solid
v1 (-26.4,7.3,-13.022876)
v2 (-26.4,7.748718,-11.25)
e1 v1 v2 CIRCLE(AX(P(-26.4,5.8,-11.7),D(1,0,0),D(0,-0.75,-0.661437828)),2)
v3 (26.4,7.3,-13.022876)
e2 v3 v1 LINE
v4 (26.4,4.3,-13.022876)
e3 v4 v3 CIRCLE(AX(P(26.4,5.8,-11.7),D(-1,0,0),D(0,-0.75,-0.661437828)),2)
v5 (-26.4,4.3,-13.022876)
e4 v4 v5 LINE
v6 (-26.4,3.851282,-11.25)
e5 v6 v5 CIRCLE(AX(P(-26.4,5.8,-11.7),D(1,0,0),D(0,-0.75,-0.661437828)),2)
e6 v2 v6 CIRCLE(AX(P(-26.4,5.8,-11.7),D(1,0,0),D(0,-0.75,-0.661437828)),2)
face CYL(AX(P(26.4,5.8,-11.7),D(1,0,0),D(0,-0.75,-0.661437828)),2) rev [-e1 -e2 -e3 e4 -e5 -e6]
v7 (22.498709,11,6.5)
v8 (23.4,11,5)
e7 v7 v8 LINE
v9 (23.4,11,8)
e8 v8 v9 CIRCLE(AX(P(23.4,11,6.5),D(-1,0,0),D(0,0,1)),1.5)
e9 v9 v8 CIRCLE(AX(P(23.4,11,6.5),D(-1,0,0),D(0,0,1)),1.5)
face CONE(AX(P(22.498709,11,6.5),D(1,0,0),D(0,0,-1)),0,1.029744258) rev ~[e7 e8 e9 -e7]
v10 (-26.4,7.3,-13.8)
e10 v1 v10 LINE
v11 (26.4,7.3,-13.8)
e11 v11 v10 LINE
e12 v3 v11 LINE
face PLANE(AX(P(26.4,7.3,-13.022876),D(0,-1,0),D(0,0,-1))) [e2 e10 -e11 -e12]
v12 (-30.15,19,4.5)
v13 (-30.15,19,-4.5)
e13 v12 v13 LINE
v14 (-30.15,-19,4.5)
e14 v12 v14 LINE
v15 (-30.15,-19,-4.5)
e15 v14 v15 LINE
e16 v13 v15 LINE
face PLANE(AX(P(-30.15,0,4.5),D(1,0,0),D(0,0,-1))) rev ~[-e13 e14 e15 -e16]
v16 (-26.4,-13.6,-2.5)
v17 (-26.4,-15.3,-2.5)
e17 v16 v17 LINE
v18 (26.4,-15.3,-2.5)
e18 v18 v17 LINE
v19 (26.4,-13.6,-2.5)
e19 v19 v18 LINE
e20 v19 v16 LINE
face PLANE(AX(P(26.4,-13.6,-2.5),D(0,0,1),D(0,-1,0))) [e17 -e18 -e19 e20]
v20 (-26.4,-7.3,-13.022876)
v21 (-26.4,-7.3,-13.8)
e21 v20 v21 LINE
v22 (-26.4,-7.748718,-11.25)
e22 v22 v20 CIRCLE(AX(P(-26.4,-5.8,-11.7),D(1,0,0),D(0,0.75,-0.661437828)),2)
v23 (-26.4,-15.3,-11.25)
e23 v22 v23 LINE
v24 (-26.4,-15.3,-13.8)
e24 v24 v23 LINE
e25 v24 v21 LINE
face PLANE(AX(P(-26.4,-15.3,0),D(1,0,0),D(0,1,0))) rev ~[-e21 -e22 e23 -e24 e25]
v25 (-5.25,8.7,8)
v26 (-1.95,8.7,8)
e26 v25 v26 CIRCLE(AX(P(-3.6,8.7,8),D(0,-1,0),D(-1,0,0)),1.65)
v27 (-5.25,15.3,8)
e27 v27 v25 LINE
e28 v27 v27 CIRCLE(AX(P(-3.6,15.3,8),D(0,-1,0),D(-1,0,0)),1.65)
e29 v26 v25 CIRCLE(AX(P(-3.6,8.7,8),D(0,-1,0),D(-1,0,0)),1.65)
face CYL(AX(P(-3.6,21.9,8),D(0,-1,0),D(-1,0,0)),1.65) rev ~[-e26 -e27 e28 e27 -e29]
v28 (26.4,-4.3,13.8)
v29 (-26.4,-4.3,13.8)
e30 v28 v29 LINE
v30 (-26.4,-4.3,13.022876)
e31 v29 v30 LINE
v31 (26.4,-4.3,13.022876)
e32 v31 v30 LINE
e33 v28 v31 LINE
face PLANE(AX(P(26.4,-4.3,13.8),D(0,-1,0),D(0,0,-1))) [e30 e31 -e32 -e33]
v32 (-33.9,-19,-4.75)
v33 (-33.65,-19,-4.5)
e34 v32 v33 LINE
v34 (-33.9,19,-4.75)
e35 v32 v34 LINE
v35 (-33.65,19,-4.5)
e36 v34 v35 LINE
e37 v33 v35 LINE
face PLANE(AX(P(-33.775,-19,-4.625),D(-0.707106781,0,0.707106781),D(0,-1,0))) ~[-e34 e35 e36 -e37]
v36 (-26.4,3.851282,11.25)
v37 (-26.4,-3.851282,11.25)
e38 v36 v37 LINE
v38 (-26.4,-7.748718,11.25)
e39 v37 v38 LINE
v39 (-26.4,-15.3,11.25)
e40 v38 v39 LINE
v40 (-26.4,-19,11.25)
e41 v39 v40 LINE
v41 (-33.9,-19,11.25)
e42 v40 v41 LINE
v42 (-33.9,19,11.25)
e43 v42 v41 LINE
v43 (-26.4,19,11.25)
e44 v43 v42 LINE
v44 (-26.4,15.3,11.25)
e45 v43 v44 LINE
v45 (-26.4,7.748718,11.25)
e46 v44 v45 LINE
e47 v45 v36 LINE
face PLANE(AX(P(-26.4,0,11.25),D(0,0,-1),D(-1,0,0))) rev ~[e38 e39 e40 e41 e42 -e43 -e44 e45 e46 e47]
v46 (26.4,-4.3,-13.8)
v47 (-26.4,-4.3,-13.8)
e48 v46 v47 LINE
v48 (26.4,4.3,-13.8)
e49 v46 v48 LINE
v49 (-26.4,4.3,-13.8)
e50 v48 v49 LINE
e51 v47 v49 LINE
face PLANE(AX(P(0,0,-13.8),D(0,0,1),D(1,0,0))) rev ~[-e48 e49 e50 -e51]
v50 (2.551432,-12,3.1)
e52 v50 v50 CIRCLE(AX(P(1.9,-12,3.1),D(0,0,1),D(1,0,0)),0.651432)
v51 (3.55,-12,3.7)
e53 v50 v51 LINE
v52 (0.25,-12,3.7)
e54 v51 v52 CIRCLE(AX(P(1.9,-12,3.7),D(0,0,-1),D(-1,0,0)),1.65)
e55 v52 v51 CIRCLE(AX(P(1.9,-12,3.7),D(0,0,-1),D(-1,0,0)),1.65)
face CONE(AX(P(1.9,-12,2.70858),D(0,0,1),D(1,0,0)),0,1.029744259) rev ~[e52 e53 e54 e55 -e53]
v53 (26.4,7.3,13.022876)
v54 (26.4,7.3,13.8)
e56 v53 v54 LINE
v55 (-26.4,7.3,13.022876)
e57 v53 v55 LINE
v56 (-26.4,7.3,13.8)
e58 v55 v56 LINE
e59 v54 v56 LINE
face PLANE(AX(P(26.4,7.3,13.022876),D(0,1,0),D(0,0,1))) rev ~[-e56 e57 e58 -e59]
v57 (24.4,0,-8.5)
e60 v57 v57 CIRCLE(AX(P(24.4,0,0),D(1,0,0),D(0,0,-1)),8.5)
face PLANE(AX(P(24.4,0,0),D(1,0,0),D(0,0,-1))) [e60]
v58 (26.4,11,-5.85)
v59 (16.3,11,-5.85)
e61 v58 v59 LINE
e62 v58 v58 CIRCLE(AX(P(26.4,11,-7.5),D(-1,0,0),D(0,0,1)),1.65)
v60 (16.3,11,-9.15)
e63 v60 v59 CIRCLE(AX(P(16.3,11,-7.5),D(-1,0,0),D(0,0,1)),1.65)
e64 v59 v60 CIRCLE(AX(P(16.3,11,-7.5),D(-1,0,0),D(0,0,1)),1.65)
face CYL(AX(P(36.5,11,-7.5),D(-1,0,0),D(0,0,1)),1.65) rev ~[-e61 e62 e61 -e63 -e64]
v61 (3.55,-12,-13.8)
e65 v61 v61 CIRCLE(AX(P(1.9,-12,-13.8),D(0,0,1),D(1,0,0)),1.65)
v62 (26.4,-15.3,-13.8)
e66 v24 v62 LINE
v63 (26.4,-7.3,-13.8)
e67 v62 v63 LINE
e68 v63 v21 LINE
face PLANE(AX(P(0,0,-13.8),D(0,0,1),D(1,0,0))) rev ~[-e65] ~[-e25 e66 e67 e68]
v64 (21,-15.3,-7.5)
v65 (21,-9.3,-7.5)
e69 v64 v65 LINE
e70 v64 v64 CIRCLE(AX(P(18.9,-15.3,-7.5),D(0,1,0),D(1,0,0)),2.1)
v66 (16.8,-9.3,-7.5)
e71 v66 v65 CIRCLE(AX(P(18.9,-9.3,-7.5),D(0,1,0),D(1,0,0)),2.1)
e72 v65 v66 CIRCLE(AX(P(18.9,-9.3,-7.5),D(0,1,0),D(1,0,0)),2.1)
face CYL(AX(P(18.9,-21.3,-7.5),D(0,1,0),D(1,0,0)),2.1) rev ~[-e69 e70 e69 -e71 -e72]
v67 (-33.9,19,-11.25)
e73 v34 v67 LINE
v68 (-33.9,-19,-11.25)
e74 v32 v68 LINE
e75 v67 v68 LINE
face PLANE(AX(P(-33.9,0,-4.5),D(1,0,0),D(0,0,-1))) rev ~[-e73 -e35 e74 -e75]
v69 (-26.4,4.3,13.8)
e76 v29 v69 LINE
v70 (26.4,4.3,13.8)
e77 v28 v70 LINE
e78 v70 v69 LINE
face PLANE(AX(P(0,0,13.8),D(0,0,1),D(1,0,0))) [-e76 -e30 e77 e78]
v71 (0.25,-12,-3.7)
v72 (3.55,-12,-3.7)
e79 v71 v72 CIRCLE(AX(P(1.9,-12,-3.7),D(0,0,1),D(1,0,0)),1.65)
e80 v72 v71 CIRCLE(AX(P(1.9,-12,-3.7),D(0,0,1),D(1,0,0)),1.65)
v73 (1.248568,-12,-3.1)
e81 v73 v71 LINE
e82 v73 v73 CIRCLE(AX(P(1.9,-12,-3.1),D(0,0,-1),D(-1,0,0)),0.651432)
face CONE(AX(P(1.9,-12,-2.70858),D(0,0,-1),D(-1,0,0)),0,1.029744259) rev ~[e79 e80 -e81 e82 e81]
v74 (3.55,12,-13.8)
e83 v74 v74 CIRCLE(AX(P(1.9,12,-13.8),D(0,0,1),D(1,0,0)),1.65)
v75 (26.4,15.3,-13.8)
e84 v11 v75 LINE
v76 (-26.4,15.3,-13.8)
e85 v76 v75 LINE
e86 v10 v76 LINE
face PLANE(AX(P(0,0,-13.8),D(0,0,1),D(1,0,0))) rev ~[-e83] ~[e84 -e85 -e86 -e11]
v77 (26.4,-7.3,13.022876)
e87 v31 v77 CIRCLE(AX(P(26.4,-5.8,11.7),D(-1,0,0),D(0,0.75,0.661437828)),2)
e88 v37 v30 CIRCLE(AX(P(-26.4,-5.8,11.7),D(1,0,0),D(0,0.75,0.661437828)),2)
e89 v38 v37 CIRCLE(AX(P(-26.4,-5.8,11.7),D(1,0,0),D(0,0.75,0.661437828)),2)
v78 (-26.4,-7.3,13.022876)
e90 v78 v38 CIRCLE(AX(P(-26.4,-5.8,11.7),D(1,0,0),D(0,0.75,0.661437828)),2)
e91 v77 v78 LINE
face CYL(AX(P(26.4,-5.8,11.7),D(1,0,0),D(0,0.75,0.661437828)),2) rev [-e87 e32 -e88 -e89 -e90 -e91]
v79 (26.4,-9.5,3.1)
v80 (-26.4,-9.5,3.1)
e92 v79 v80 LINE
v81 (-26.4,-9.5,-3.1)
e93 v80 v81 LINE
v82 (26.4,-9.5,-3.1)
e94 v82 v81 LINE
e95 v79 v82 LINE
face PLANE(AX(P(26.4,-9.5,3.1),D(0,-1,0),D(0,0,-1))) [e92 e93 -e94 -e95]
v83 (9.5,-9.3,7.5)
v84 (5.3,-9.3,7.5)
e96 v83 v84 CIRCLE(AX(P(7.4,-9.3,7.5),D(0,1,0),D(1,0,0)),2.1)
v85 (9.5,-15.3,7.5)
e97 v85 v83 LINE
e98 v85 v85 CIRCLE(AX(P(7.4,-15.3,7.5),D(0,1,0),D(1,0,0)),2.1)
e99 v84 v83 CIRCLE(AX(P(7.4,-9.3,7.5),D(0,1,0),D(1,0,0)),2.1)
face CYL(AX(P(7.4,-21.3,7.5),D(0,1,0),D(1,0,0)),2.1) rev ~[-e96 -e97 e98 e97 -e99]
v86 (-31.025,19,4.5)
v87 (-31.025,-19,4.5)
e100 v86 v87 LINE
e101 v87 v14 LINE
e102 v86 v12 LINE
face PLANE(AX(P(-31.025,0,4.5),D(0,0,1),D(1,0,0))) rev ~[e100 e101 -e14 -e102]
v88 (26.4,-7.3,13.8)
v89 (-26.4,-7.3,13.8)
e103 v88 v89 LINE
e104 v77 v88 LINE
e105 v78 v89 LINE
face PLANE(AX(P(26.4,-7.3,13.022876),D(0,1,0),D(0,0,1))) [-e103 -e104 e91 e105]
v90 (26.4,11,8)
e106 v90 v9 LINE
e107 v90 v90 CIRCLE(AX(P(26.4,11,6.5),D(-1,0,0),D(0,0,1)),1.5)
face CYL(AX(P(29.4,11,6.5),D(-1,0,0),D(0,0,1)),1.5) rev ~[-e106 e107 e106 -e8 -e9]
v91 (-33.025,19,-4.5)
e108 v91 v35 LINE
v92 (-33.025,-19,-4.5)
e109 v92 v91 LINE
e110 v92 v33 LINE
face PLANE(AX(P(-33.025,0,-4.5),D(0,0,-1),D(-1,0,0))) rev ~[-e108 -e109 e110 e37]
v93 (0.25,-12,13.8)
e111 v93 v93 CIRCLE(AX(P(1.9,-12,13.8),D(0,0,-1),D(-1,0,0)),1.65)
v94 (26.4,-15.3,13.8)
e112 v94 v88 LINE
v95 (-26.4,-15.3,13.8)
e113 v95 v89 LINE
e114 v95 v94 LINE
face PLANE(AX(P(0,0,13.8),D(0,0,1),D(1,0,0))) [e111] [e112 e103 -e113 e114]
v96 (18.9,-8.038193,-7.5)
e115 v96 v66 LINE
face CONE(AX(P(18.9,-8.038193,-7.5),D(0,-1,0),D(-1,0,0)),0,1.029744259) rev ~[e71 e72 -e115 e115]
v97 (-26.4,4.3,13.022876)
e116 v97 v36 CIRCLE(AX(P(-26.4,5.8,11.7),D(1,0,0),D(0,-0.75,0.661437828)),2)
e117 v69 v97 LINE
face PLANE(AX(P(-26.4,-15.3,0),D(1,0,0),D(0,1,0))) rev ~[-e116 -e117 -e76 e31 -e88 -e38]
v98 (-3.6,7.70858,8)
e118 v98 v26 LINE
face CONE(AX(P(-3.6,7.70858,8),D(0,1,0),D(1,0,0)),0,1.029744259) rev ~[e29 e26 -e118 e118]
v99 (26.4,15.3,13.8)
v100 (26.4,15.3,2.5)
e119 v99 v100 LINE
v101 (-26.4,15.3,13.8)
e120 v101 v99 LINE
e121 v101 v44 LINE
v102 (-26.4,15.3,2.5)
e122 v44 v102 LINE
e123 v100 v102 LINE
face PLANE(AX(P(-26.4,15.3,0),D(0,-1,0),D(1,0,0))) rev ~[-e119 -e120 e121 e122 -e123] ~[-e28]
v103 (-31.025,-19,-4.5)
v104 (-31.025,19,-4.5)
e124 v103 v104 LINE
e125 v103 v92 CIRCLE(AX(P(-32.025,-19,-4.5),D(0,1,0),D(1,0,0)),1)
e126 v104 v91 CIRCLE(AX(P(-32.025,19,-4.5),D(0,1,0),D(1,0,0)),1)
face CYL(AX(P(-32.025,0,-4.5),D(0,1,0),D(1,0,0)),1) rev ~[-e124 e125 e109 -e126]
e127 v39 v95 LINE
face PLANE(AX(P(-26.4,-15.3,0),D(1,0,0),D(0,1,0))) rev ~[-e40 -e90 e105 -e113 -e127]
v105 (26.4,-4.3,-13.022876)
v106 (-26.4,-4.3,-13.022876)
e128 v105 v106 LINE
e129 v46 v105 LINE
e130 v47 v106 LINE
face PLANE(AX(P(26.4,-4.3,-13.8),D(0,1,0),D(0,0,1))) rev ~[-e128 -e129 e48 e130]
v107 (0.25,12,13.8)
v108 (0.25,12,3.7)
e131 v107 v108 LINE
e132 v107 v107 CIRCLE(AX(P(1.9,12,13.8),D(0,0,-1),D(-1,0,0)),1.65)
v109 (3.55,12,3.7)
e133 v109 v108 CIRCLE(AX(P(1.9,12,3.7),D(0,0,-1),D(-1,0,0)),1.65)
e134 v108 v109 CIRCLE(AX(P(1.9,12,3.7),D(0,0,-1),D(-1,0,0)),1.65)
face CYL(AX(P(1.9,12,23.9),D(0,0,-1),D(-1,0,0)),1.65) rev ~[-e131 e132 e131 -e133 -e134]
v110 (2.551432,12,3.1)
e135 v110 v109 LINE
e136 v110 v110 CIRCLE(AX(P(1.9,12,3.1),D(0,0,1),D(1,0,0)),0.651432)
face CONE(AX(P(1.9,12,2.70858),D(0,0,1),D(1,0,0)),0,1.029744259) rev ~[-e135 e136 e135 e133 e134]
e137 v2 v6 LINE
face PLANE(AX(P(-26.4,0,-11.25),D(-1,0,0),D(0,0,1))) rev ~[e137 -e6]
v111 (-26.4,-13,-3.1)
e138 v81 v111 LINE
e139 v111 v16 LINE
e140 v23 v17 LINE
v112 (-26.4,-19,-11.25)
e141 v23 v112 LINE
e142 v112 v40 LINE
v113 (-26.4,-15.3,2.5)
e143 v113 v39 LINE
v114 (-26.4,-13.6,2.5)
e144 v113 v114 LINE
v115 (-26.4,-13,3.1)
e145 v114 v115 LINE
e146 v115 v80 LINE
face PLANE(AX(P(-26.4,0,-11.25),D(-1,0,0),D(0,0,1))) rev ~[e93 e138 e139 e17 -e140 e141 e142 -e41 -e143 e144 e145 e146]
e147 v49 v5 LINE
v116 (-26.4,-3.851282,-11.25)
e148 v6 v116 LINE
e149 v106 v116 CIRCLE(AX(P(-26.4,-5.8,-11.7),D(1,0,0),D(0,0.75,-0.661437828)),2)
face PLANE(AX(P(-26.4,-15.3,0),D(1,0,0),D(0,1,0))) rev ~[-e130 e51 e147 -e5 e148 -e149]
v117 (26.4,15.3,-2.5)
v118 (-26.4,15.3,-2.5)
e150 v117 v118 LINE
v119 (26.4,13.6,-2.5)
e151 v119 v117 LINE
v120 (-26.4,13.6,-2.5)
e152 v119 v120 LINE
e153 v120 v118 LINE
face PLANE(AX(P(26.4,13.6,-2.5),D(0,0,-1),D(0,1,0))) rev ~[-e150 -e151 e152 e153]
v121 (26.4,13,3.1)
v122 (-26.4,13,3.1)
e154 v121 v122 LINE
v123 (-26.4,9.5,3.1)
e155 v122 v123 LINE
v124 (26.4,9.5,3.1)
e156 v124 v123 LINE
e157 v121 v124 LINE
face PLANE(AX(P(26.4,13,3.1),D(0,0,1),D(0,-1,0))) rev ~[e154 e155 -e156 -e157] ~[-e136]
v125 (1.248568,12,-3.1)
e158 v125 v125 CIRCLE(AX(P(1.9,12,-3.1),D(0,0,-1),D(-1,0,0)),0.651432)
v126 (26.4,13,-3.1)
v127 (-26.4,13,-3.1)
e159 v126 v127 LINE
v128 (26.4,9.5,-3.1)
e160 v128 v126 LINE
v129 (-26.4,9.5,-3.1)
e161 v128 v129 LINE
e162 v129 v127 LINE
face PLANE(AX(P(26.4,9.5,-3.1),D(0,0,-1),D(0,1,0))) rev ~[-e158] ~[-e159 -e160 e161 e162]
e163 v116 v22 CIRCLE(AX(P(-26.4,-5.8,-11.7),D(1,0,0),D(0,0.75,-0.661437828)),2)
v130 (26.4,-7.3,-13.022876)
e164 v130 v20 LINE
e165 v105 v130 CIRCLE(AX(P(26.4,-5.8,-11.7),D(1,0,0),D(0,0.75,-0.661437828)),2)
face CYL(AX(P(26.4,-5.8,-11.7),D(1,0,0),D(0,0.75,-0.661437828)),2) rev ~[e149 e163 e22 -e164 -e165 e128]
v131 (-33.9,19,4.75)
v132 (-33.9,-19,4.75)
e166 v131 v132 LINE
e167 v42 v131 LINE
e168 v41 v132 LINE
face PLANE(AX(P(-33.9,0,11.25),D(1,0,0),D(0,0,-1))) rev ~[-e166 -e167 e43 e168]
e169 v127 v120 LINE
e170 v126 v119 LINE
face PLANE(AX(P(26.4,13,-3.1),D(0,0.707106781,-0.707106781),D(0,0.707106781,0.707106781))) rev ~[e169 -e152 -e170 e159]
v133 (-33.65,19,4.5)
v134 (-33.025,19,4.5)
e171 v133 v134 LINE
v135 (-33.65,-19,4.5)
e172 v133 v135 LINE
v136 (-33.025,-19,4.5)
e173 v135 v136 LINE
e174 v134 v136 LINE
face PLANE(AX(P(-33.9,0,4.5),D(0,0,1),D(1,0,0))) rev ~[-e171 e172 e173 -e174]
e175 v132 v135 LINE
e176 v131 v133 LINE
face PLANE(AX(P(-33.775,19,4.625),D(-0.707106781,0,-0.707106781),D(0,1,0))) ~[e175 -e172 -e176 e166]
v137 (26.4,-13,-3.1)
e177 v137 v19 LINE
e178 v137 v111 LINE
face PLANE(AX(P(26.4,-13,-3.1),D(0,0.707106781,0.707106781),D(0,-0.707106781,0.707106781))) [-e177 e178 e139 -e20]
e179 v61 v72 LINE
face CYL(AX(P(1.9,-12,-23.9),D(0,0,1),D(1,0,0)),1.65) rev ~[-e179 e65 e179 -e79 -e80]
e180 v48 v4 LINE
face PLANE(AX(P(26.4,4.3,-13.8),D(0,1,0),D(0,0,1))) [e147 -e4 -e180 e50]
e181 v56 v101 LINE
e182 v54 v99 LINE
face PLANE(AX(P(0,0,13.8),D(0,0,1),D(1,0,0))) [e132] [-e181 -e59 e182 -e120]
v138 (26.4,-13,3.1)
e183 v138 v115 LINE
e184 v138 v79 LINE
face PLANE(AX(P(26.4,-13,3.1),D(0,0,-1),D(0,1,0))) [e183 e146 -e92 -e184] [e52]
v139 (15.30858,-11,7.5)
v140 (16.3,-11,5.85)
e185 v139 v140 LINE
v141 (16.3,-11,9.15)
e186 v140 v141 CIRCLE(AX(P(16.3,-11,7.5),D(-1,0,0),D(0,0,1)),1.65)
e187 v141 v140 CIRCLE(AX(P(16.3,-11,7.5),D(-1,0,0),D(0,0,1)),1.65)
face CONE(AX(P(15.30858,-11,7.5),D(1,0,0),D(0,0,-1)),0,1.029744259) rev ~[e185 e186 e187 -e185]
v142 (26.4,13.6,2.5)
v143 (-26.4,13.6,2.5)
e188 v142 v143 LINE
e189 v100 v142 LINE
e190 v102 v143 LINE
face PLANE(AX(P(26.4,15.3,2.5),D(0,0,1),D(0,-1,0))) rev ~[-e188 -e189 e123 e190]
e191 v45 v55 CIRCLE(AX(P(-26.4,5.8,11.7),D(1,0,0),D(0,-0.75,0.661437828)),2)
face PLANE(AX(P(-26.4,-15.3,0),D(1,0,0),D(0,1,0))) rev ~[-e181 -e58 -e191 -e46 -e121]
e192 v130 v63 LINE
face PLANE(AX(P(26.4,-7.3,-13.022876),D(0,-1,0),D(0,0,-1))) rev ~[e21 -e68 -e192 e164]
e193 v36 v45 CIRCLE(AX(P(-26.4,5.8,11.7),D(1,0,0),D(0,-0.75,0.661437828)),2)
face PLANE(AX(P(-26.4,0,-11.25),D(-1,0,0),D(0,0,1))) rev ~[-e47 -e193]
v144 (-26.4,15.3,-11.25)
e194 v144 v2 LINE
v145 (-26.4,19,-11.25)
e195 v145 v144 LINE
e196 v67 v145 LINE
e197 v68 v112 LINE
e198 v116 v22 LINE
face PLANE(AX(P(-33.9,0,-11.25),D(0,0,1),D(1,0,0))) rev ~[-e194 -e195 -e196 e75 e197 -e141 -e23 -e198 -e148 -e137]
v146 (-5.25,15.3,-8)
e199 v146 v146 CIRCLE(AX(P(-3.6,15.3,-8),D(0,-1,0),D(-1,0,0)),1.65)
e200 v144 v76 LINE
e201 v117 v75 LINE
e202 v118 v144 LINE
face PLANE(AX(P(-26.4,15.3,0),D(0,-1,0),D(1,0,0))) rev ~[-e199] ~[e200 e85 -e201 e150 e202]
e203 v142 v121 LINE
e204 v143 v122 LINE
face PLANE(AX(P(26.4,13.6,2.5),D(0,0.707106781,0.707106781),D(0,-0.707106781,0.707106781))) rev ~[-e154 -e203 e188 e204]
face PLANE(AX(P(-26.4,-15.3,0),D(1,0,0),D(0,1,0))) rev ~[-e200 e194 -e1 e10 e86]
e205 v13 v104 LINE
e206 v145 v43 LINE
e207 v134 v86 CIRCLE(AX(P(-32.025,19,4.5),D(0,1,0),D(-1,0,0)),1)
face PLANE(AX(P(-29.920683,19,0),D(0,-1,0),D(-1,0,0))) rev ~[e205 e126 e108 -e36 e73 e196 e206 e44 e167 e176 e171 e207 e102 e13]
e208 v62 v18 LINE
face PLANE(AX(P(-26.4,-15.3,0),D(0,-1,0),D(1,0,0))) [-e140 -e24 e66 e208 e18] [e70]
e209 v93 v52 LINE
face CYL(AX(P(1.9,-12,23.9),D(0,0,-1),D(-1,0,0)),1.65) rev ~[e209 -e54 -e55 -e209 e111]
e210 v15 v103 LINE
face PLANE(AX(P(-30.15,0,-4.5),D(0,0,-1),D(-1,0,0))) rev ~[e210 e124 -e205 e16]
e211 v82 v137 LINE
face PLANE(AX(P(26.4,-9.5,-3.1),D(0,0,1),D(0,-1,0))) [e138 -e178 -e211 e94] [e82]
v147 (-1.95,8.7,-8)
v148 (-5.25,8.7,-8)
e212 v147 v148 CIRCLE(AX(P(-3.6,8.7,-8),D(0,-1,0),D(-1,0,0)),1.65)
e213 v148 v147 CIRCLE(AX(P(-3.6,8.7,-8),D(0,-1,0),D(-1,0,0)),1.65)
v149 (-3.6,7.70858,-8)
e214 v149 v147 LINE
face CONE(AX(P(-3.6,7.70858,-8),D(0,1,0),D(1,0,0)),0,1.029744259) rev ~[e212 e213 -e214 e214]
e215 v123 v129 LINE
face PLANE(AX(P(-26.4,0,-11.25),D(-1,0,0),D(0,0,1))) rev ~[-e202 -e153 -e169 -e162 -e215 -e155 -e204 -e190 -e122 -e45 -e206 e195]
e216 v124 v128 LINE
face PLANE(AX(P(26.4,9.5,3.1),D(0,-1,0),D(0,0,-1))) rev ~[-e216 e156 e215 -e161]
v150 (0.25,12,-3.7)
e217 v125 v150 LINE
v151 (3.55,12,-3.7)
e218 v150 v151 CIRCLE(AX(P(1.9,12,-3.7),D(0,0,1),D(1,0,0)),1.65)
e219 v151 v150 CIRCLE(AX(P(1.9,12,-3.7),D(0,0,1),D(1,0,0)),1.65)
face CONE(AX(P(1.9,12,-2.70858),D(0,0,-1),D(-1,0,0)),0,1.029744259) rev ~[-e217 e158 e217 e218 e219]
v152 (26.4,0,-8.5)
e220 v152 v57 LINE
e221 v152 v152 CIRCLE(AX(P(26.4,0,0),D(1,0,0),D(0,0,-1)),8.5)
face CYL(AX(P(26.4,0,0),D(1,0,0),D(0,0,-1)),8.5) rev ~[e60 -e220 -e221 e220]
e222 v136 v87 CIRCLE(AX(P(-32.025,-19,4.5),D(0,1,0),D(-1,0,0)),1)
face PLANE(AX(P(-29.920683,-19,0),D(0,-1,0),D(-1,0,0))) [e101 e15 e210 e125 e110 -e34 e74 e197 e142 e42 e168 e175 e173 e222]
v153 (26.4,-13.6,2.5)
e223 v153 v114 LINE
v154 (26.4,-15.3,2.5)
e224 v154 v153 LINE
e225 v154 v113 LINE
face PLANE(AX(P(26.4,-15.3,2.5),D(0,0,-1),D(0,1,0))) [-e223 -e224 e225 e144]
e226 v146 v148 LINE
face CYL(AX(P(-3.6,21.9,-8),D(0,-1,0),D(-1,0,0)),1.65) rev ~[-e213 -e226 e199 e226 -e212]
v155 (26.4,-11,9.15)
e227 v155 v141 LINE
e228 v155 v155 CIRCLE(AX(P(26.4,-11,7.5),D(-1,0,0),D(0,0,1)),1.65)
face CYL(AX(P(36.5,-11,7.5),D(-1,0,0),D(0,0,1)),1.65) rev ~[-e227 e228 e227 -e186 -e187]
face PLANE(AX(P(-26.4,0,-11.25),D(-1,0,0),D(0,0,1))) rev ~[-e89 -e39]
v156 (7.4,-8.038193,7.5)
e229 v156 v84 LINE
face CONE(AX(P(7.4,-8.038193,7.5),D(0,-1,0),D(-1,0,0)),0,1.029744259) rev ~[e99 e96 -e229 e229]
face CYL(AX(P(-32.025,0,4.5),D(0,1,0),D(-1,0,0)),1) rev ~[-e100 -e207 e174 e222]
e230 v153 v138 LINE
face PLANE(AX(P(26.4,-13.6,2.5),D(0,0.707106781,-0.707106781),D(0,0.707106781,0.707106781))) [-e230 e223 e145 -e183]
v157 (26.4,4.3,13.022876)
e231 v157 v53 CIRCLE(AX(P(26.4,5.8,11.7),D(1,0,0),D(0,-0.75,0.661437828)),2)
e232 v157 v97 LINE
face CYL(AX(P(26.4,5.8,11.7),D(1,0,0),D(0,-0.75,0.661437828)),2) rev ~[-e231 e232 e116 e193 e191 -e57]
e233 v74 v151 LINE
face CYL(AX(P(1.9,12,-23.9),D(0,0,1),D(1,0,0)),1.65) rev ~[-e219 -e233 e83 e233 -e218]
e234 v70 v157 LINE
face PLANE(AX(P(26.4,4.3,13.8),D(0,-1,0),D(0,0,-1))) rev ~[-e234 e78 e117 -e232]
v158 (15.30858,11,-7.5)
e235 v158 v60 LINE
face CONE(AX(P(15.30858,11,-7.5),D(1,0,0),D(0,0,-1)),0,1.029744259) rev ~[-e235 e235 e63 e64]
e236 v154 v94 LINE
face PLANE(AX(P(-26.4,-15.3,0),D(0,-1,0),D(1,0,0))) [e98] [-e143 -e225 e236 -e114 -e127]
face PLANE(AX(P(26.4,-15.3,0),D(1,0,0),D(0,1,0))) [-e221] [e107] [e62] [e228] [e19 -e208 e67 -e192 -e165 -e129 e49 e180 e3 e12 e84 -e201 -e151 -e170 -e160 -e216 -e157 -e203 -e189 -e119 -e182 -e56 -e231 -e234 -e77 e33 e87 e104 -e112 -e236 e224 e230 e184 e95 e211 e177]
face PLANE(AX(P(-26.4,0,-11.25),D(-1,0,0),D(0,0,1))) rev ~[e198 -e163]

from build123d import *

# Parameters (mm, degrees)
SKETCH1_W                    = 52.8
SKETCH1_H                    = 30.6
EXT_BODY_DEPTH               = 13.8
AUTO_SWITCH_MOUNTING_DEPTH   = 57.677773421
SKETCH3_R                    = 8.5
CYL_BORE_DEPTH               = 2
M4X0_7_TAPPED_HOLE1_D        = 3.3
M4X0_7_TAPPED_HOLE1_DEPTH    = 10.1
M4X0_7_TAPPED_HOLE1_TIP      = 0.991420021
F_3_0_3_DIAMETER_HOLE1_D     = 3
F_3_0_3_DIAMETER_HOLE1_DEPTH = 3
F_3_0_3_DIAMETER_HOLE1_TIP   = 0.901290929
M4X0_7_TAPPED_HOLE2_D        = 3.3
M4X0_7_TAPPED_HOLE2_DEPTH    = 10.1
M4X0_7_TAPPED_HOLE2_TIP      = 0.991420021
M4X0_7_TAPPED_HOLE3_D        = 3.3
M4X0_7_TAPPED_HOLE3_DEPTH    = 10.1
M4X0_7_TAPPED_HOLE3_TIP      = 0.991420021
M4X0_7_TAPPED_HOLE4_D        = 3.3
M4X0_7_TAPPED_HOLE4_DEPTH    = 6.6
M4X0_7_TAPPED_HOLE4_TIP      = 0.991420021
M5X0_8_TAPPED_HOLE1_D        = 4.2
M5X0_8_TAPPED_HOLE1_DEPTH    = 6
M5X0_8_TAPPED_HOLE1_TIP      = 1.2618073
BOSS_EXTRUDE2_DEPTH          = 19
CHAMFER1_SIZE                = 0.25


with BuildPart() as part:
    # Sketch1 → EXT BODY (new, symmetric)
    with BuildSketch(Plane.XY):
        Rectangle(SKETCH1_W, SKETCH1_H)
    extrude(amount=EXT_BODY_DEPTH, both=True)

    # Sketch2 → AUTO SWITCH MOUNTING (cut, through all)
    with BuildSketch(Plane(origin=(26.4, 0, 0), x_dir=(0, 0, -1), z_dir=(1, 0, 0))):
        Polygon((2.5, 15.3), (-2.5, 15.3), (-2.5, 13.6), (-3.1, 13), (-3.1, 9.5), (3.1, 9.5), (3.1, 13), (2.5, 13.6), align=None)
        with BuildLine():
            Line((-13.022875656, 7.3), (-13.8, 7.3))
            Line((-13.8, 7.3), (-13.8, 4.3))
            Line((-13.8, 4.3), (-13.022875656, 4.3))
            ThreePointArc((-13.022875656, 4.3), (-9.7, 5.8), (-13.022875656, 7.3))
        make_face()
        with BuildLine():
            Line((-13.8, -7.3), (-13.8, -4.3))
            Line((-13.8, -4.3), (-13.022875656, -4.3))
            ThreePointArc((-13.022875656, -4.3), (-9.7, -5.8), (-13.022875656, -7.3))
            Line((-13.022875656, -7.3), (-13.8, -7.3))
        make_face()
        Polygon((-3.1, -9.5), (3.1, -9.5), (3.1, -13), (2.5, -13.6), (2.5, -15.3), (-2.5, -15.3), (-2.5, -13.6), (-3.1, -13), align=None)
        with BuildLine():
            Line((13.022875656, -7.3), (13.8, -7.3))
            Line((13.8, -7.3), (13.8, -4.3))
            Line((13.8, -4.3), (13.022875656, -4.3))
            ThreePointArc((13.022875656, -4.3), (9.7, -5.8), (13.022875656, -7.3))
        make_face()
        with BuildLine():
            Line((13.8, 7.3), (13.8, 4.3))
            Line((13.8, 4.3), (13.022875656, 4.3))
            ThreePointArc((13.022875656, 4.3), (9.7, 5.8), (13.022875656, 7.3))
            Line((13.022875656, 7.3), (13.8, 7.3))
        make_face()
    extrude(amount=-AUTO_SWITCH_MOUNTING_DEPTH, mode=Mode.SUBTRACT)

    # Sketch3 → CYL BORE (cut)
    with BuildSketch(Plane(origin=(26.4, 0, 0), x_dir=(0, 0, -1), z_dir=(1, 0, 0))):
        Circle(SKETCH3_R)
    extrude(amount=-CYL_BORE_DEPTH, mode=Mode.SUBTRACT)

    # M4x0.7 Tapped Hole1
    with Locations(Plane(origin=(26.4, 0, 0), x_dir=(0, 0, -1), z_dir=(1, 0, 0))):
        with Locations((-7.5, -11), (7.5, 11)):
            Hole(M4X0_7_TAPPED_HOLE1_D / 2, depth=M4X0_7_TAPPED_HOLE1_DEPTH)
            with Locations((0, 0, -(M4X0_7_TAPPED_HOLE1_DEPTH + M4X0_7_TAPPED_HOLE1_TIP / 2))):  # 118° drill point
                Cone(0, M4X0_7_TAPPED_HOLE1_D / 2, M4X0_7_TAPPED_HOLE1_TIP, mode=Mode.SUBTRACT)

    # Ø3.0 (3) Diameter Hole1
    with Locations(Plane(origin=(26.4, 0, 0), x_dir=(0, 0, -1), z_dir=(1, 0, 0))):
        with Locations((-6.5, 11)):
            Hole(F_3_0_3_DIAMETER_HOLE1_D / 2, depth=F_3_0_3_DIAMETER_HOLE1_DEPTH)
            with Locations((0, 0, -(F_3_0_3_DIAMETER_HOLE1_DEPTH + F_3_0_3_DIAMETER_HOLE1_TIP / 2))):  # 118° drill point
                Cone(0, F_3_0_3_DIAMETER_HOLE1_D / 2, F_3_0_3_DIAMETER_HOLE1_TIP, mode=Mode.SUBTRACT)

    # M4x0.7 Tapped Hole2
    with Locations(Plane.XY.offset(13.8)):
        with Locations((1.9, 12), (1.9, -12)):
            Hole(M4X0_7_TAPPED_HOLE2_D / 2, depth=M4X0_7_TAPPED_HOLE2_DEPTH)
            with Locations((0, 0, -(M4X0_7_TAPPED_HOLE2_DEPTH + M4X0_7_TAPPED_HOLE2_TIP / 2))):  # 118° drill point
                Cone(0, M4X0_7_TAPPED_HOLE2_D / 2, M4X0_7_TAPPED_HOLE2_TIP, mode=Mode.SUBTRACT)

    # M4x0.7 Tapped Hole3
    with Locations(Plane(origin=(0, 0, -13.8), x_dir=(-1, 0, 0), z_dir=(0, 0, -1))):
        with Locations((-1.9, 12), (-1.9, -12)):
            Hole(M4X0_7_TAPPED_HOLE3_D / 2, depth=M4X0_7_TAPPED_HOLE3_DEPTH)
            with Locations((0, 0, -(M4X0_7_TAPPED_HOLE3_DEPTH + M4X0_7_TAPPED_HOLE3_TIP / 2))):  # 118° drill point
                Cone(0, M4X0_7_TAPPED_HOLE3_D / 2, M4X0_7_TAPPED_HOLE3_TIP, mode=Mode.SUBTRACT)

    # M4x0.7 Tapped Hole4
    with Locations(Plane(origin=(0, 15.3, 0), x_dir=(1, 0, 0), z_dir=(0, 1, 0))):
        with Locations((-3.6, 8), (-3.6, -8)):
            Hole(M4X0_7_TAPPED_HOLE4_D / 2, depth=M4X0_7_TAPPED_HOLE4_DEPTH)
            with Locations((0, 0, -(M4X0_7_TAPPED_HOLE4_DEPTH + M4X0_7_TAPPED_HOLE4_TIP / 2))):  # 118° drill point
                Cone(0, M4X0_7_TAPPED_HOLE4_D / 2, M4X0_7_TAPPED_HOLE4_TIP, mode=Mode.SUBTRACT)

    # M5x0.8 Tapped Hole1
    with Locations(Plane(origin=(0, -15.3, 0), x_dir=(-1, 0, 0), z_dir=(0, -1, 0))):
        with Locations((-7.4, -7.5), (-18.9, 7.5)):
            Hole(M5X0_8_TAPPED_HOLE1_D / 2, depth=M5X0_8_TAPPED_HOLE1_DEPTH)
            with Locations((0, 0, -(M5X0_8_TAPPED_HOLE1_DEPTH + M5X0_8_TAPPED_HOLE1_TIP / 2))):  # 118° drill point
                Cone(0, M5X0_8_TAPPED_HOLE1_D / 2, M5X0_8_TAPPED_HOLE1_TIP, mode=Mode.SUBTRACT)

    # Sketch21 → Boss-Extrude2 (add, symmetric)
    with BuildSketch(Plane(origin=(0, 0, 0), x_dir=(1, 0, 0), z_dir=(0, 1, 0))):
        with BuildLine():
            Line((-33.9, 4.5), (-33.9, 11.25))
            Line((-33.9, 11.25), (-26.4, 11.25))
            Line((-26.4, 11.25), (-26.4, -11.25))
            Line((-26.4, -11.25), (-33.9, -11.25))
            Line((-33.9, -11.25), (-33.9, -4.5))
            Line((-33.9, -4.5), (-33.025, -4.5))
            ThreePointArc((-33.025, -4.5), (-32.025, -5.5), (-31.025, -4.5))
            Line((-31.025, -4.5), (-30.15, -4.5))
            Line((-30.15, -4.5), (-30.15, 4.5))
            Line((-30.15, 4.5), (-31.025, 4.5))
            ThreePointArc((-31.025, 4.5), (-32.025, 5.5), (-33.025, 4.5))
            Line((-33.025, 4.5), (-33.9, 4.5))
        make_face()
    extrude(amount=BOSS_EXTRUDE2_DEPTH, both=True)

    # Chamfer1
    chamfer1_edges = [part.edges().sort_by_distance(p)[0] for p in [
        (-33.9, 0, -4.5),
        (-33.9, 0, 4.5),
    ]]
    chamfer(chamfer1_edges, length=CHAMFER1_SIZE)


solid = part.part
